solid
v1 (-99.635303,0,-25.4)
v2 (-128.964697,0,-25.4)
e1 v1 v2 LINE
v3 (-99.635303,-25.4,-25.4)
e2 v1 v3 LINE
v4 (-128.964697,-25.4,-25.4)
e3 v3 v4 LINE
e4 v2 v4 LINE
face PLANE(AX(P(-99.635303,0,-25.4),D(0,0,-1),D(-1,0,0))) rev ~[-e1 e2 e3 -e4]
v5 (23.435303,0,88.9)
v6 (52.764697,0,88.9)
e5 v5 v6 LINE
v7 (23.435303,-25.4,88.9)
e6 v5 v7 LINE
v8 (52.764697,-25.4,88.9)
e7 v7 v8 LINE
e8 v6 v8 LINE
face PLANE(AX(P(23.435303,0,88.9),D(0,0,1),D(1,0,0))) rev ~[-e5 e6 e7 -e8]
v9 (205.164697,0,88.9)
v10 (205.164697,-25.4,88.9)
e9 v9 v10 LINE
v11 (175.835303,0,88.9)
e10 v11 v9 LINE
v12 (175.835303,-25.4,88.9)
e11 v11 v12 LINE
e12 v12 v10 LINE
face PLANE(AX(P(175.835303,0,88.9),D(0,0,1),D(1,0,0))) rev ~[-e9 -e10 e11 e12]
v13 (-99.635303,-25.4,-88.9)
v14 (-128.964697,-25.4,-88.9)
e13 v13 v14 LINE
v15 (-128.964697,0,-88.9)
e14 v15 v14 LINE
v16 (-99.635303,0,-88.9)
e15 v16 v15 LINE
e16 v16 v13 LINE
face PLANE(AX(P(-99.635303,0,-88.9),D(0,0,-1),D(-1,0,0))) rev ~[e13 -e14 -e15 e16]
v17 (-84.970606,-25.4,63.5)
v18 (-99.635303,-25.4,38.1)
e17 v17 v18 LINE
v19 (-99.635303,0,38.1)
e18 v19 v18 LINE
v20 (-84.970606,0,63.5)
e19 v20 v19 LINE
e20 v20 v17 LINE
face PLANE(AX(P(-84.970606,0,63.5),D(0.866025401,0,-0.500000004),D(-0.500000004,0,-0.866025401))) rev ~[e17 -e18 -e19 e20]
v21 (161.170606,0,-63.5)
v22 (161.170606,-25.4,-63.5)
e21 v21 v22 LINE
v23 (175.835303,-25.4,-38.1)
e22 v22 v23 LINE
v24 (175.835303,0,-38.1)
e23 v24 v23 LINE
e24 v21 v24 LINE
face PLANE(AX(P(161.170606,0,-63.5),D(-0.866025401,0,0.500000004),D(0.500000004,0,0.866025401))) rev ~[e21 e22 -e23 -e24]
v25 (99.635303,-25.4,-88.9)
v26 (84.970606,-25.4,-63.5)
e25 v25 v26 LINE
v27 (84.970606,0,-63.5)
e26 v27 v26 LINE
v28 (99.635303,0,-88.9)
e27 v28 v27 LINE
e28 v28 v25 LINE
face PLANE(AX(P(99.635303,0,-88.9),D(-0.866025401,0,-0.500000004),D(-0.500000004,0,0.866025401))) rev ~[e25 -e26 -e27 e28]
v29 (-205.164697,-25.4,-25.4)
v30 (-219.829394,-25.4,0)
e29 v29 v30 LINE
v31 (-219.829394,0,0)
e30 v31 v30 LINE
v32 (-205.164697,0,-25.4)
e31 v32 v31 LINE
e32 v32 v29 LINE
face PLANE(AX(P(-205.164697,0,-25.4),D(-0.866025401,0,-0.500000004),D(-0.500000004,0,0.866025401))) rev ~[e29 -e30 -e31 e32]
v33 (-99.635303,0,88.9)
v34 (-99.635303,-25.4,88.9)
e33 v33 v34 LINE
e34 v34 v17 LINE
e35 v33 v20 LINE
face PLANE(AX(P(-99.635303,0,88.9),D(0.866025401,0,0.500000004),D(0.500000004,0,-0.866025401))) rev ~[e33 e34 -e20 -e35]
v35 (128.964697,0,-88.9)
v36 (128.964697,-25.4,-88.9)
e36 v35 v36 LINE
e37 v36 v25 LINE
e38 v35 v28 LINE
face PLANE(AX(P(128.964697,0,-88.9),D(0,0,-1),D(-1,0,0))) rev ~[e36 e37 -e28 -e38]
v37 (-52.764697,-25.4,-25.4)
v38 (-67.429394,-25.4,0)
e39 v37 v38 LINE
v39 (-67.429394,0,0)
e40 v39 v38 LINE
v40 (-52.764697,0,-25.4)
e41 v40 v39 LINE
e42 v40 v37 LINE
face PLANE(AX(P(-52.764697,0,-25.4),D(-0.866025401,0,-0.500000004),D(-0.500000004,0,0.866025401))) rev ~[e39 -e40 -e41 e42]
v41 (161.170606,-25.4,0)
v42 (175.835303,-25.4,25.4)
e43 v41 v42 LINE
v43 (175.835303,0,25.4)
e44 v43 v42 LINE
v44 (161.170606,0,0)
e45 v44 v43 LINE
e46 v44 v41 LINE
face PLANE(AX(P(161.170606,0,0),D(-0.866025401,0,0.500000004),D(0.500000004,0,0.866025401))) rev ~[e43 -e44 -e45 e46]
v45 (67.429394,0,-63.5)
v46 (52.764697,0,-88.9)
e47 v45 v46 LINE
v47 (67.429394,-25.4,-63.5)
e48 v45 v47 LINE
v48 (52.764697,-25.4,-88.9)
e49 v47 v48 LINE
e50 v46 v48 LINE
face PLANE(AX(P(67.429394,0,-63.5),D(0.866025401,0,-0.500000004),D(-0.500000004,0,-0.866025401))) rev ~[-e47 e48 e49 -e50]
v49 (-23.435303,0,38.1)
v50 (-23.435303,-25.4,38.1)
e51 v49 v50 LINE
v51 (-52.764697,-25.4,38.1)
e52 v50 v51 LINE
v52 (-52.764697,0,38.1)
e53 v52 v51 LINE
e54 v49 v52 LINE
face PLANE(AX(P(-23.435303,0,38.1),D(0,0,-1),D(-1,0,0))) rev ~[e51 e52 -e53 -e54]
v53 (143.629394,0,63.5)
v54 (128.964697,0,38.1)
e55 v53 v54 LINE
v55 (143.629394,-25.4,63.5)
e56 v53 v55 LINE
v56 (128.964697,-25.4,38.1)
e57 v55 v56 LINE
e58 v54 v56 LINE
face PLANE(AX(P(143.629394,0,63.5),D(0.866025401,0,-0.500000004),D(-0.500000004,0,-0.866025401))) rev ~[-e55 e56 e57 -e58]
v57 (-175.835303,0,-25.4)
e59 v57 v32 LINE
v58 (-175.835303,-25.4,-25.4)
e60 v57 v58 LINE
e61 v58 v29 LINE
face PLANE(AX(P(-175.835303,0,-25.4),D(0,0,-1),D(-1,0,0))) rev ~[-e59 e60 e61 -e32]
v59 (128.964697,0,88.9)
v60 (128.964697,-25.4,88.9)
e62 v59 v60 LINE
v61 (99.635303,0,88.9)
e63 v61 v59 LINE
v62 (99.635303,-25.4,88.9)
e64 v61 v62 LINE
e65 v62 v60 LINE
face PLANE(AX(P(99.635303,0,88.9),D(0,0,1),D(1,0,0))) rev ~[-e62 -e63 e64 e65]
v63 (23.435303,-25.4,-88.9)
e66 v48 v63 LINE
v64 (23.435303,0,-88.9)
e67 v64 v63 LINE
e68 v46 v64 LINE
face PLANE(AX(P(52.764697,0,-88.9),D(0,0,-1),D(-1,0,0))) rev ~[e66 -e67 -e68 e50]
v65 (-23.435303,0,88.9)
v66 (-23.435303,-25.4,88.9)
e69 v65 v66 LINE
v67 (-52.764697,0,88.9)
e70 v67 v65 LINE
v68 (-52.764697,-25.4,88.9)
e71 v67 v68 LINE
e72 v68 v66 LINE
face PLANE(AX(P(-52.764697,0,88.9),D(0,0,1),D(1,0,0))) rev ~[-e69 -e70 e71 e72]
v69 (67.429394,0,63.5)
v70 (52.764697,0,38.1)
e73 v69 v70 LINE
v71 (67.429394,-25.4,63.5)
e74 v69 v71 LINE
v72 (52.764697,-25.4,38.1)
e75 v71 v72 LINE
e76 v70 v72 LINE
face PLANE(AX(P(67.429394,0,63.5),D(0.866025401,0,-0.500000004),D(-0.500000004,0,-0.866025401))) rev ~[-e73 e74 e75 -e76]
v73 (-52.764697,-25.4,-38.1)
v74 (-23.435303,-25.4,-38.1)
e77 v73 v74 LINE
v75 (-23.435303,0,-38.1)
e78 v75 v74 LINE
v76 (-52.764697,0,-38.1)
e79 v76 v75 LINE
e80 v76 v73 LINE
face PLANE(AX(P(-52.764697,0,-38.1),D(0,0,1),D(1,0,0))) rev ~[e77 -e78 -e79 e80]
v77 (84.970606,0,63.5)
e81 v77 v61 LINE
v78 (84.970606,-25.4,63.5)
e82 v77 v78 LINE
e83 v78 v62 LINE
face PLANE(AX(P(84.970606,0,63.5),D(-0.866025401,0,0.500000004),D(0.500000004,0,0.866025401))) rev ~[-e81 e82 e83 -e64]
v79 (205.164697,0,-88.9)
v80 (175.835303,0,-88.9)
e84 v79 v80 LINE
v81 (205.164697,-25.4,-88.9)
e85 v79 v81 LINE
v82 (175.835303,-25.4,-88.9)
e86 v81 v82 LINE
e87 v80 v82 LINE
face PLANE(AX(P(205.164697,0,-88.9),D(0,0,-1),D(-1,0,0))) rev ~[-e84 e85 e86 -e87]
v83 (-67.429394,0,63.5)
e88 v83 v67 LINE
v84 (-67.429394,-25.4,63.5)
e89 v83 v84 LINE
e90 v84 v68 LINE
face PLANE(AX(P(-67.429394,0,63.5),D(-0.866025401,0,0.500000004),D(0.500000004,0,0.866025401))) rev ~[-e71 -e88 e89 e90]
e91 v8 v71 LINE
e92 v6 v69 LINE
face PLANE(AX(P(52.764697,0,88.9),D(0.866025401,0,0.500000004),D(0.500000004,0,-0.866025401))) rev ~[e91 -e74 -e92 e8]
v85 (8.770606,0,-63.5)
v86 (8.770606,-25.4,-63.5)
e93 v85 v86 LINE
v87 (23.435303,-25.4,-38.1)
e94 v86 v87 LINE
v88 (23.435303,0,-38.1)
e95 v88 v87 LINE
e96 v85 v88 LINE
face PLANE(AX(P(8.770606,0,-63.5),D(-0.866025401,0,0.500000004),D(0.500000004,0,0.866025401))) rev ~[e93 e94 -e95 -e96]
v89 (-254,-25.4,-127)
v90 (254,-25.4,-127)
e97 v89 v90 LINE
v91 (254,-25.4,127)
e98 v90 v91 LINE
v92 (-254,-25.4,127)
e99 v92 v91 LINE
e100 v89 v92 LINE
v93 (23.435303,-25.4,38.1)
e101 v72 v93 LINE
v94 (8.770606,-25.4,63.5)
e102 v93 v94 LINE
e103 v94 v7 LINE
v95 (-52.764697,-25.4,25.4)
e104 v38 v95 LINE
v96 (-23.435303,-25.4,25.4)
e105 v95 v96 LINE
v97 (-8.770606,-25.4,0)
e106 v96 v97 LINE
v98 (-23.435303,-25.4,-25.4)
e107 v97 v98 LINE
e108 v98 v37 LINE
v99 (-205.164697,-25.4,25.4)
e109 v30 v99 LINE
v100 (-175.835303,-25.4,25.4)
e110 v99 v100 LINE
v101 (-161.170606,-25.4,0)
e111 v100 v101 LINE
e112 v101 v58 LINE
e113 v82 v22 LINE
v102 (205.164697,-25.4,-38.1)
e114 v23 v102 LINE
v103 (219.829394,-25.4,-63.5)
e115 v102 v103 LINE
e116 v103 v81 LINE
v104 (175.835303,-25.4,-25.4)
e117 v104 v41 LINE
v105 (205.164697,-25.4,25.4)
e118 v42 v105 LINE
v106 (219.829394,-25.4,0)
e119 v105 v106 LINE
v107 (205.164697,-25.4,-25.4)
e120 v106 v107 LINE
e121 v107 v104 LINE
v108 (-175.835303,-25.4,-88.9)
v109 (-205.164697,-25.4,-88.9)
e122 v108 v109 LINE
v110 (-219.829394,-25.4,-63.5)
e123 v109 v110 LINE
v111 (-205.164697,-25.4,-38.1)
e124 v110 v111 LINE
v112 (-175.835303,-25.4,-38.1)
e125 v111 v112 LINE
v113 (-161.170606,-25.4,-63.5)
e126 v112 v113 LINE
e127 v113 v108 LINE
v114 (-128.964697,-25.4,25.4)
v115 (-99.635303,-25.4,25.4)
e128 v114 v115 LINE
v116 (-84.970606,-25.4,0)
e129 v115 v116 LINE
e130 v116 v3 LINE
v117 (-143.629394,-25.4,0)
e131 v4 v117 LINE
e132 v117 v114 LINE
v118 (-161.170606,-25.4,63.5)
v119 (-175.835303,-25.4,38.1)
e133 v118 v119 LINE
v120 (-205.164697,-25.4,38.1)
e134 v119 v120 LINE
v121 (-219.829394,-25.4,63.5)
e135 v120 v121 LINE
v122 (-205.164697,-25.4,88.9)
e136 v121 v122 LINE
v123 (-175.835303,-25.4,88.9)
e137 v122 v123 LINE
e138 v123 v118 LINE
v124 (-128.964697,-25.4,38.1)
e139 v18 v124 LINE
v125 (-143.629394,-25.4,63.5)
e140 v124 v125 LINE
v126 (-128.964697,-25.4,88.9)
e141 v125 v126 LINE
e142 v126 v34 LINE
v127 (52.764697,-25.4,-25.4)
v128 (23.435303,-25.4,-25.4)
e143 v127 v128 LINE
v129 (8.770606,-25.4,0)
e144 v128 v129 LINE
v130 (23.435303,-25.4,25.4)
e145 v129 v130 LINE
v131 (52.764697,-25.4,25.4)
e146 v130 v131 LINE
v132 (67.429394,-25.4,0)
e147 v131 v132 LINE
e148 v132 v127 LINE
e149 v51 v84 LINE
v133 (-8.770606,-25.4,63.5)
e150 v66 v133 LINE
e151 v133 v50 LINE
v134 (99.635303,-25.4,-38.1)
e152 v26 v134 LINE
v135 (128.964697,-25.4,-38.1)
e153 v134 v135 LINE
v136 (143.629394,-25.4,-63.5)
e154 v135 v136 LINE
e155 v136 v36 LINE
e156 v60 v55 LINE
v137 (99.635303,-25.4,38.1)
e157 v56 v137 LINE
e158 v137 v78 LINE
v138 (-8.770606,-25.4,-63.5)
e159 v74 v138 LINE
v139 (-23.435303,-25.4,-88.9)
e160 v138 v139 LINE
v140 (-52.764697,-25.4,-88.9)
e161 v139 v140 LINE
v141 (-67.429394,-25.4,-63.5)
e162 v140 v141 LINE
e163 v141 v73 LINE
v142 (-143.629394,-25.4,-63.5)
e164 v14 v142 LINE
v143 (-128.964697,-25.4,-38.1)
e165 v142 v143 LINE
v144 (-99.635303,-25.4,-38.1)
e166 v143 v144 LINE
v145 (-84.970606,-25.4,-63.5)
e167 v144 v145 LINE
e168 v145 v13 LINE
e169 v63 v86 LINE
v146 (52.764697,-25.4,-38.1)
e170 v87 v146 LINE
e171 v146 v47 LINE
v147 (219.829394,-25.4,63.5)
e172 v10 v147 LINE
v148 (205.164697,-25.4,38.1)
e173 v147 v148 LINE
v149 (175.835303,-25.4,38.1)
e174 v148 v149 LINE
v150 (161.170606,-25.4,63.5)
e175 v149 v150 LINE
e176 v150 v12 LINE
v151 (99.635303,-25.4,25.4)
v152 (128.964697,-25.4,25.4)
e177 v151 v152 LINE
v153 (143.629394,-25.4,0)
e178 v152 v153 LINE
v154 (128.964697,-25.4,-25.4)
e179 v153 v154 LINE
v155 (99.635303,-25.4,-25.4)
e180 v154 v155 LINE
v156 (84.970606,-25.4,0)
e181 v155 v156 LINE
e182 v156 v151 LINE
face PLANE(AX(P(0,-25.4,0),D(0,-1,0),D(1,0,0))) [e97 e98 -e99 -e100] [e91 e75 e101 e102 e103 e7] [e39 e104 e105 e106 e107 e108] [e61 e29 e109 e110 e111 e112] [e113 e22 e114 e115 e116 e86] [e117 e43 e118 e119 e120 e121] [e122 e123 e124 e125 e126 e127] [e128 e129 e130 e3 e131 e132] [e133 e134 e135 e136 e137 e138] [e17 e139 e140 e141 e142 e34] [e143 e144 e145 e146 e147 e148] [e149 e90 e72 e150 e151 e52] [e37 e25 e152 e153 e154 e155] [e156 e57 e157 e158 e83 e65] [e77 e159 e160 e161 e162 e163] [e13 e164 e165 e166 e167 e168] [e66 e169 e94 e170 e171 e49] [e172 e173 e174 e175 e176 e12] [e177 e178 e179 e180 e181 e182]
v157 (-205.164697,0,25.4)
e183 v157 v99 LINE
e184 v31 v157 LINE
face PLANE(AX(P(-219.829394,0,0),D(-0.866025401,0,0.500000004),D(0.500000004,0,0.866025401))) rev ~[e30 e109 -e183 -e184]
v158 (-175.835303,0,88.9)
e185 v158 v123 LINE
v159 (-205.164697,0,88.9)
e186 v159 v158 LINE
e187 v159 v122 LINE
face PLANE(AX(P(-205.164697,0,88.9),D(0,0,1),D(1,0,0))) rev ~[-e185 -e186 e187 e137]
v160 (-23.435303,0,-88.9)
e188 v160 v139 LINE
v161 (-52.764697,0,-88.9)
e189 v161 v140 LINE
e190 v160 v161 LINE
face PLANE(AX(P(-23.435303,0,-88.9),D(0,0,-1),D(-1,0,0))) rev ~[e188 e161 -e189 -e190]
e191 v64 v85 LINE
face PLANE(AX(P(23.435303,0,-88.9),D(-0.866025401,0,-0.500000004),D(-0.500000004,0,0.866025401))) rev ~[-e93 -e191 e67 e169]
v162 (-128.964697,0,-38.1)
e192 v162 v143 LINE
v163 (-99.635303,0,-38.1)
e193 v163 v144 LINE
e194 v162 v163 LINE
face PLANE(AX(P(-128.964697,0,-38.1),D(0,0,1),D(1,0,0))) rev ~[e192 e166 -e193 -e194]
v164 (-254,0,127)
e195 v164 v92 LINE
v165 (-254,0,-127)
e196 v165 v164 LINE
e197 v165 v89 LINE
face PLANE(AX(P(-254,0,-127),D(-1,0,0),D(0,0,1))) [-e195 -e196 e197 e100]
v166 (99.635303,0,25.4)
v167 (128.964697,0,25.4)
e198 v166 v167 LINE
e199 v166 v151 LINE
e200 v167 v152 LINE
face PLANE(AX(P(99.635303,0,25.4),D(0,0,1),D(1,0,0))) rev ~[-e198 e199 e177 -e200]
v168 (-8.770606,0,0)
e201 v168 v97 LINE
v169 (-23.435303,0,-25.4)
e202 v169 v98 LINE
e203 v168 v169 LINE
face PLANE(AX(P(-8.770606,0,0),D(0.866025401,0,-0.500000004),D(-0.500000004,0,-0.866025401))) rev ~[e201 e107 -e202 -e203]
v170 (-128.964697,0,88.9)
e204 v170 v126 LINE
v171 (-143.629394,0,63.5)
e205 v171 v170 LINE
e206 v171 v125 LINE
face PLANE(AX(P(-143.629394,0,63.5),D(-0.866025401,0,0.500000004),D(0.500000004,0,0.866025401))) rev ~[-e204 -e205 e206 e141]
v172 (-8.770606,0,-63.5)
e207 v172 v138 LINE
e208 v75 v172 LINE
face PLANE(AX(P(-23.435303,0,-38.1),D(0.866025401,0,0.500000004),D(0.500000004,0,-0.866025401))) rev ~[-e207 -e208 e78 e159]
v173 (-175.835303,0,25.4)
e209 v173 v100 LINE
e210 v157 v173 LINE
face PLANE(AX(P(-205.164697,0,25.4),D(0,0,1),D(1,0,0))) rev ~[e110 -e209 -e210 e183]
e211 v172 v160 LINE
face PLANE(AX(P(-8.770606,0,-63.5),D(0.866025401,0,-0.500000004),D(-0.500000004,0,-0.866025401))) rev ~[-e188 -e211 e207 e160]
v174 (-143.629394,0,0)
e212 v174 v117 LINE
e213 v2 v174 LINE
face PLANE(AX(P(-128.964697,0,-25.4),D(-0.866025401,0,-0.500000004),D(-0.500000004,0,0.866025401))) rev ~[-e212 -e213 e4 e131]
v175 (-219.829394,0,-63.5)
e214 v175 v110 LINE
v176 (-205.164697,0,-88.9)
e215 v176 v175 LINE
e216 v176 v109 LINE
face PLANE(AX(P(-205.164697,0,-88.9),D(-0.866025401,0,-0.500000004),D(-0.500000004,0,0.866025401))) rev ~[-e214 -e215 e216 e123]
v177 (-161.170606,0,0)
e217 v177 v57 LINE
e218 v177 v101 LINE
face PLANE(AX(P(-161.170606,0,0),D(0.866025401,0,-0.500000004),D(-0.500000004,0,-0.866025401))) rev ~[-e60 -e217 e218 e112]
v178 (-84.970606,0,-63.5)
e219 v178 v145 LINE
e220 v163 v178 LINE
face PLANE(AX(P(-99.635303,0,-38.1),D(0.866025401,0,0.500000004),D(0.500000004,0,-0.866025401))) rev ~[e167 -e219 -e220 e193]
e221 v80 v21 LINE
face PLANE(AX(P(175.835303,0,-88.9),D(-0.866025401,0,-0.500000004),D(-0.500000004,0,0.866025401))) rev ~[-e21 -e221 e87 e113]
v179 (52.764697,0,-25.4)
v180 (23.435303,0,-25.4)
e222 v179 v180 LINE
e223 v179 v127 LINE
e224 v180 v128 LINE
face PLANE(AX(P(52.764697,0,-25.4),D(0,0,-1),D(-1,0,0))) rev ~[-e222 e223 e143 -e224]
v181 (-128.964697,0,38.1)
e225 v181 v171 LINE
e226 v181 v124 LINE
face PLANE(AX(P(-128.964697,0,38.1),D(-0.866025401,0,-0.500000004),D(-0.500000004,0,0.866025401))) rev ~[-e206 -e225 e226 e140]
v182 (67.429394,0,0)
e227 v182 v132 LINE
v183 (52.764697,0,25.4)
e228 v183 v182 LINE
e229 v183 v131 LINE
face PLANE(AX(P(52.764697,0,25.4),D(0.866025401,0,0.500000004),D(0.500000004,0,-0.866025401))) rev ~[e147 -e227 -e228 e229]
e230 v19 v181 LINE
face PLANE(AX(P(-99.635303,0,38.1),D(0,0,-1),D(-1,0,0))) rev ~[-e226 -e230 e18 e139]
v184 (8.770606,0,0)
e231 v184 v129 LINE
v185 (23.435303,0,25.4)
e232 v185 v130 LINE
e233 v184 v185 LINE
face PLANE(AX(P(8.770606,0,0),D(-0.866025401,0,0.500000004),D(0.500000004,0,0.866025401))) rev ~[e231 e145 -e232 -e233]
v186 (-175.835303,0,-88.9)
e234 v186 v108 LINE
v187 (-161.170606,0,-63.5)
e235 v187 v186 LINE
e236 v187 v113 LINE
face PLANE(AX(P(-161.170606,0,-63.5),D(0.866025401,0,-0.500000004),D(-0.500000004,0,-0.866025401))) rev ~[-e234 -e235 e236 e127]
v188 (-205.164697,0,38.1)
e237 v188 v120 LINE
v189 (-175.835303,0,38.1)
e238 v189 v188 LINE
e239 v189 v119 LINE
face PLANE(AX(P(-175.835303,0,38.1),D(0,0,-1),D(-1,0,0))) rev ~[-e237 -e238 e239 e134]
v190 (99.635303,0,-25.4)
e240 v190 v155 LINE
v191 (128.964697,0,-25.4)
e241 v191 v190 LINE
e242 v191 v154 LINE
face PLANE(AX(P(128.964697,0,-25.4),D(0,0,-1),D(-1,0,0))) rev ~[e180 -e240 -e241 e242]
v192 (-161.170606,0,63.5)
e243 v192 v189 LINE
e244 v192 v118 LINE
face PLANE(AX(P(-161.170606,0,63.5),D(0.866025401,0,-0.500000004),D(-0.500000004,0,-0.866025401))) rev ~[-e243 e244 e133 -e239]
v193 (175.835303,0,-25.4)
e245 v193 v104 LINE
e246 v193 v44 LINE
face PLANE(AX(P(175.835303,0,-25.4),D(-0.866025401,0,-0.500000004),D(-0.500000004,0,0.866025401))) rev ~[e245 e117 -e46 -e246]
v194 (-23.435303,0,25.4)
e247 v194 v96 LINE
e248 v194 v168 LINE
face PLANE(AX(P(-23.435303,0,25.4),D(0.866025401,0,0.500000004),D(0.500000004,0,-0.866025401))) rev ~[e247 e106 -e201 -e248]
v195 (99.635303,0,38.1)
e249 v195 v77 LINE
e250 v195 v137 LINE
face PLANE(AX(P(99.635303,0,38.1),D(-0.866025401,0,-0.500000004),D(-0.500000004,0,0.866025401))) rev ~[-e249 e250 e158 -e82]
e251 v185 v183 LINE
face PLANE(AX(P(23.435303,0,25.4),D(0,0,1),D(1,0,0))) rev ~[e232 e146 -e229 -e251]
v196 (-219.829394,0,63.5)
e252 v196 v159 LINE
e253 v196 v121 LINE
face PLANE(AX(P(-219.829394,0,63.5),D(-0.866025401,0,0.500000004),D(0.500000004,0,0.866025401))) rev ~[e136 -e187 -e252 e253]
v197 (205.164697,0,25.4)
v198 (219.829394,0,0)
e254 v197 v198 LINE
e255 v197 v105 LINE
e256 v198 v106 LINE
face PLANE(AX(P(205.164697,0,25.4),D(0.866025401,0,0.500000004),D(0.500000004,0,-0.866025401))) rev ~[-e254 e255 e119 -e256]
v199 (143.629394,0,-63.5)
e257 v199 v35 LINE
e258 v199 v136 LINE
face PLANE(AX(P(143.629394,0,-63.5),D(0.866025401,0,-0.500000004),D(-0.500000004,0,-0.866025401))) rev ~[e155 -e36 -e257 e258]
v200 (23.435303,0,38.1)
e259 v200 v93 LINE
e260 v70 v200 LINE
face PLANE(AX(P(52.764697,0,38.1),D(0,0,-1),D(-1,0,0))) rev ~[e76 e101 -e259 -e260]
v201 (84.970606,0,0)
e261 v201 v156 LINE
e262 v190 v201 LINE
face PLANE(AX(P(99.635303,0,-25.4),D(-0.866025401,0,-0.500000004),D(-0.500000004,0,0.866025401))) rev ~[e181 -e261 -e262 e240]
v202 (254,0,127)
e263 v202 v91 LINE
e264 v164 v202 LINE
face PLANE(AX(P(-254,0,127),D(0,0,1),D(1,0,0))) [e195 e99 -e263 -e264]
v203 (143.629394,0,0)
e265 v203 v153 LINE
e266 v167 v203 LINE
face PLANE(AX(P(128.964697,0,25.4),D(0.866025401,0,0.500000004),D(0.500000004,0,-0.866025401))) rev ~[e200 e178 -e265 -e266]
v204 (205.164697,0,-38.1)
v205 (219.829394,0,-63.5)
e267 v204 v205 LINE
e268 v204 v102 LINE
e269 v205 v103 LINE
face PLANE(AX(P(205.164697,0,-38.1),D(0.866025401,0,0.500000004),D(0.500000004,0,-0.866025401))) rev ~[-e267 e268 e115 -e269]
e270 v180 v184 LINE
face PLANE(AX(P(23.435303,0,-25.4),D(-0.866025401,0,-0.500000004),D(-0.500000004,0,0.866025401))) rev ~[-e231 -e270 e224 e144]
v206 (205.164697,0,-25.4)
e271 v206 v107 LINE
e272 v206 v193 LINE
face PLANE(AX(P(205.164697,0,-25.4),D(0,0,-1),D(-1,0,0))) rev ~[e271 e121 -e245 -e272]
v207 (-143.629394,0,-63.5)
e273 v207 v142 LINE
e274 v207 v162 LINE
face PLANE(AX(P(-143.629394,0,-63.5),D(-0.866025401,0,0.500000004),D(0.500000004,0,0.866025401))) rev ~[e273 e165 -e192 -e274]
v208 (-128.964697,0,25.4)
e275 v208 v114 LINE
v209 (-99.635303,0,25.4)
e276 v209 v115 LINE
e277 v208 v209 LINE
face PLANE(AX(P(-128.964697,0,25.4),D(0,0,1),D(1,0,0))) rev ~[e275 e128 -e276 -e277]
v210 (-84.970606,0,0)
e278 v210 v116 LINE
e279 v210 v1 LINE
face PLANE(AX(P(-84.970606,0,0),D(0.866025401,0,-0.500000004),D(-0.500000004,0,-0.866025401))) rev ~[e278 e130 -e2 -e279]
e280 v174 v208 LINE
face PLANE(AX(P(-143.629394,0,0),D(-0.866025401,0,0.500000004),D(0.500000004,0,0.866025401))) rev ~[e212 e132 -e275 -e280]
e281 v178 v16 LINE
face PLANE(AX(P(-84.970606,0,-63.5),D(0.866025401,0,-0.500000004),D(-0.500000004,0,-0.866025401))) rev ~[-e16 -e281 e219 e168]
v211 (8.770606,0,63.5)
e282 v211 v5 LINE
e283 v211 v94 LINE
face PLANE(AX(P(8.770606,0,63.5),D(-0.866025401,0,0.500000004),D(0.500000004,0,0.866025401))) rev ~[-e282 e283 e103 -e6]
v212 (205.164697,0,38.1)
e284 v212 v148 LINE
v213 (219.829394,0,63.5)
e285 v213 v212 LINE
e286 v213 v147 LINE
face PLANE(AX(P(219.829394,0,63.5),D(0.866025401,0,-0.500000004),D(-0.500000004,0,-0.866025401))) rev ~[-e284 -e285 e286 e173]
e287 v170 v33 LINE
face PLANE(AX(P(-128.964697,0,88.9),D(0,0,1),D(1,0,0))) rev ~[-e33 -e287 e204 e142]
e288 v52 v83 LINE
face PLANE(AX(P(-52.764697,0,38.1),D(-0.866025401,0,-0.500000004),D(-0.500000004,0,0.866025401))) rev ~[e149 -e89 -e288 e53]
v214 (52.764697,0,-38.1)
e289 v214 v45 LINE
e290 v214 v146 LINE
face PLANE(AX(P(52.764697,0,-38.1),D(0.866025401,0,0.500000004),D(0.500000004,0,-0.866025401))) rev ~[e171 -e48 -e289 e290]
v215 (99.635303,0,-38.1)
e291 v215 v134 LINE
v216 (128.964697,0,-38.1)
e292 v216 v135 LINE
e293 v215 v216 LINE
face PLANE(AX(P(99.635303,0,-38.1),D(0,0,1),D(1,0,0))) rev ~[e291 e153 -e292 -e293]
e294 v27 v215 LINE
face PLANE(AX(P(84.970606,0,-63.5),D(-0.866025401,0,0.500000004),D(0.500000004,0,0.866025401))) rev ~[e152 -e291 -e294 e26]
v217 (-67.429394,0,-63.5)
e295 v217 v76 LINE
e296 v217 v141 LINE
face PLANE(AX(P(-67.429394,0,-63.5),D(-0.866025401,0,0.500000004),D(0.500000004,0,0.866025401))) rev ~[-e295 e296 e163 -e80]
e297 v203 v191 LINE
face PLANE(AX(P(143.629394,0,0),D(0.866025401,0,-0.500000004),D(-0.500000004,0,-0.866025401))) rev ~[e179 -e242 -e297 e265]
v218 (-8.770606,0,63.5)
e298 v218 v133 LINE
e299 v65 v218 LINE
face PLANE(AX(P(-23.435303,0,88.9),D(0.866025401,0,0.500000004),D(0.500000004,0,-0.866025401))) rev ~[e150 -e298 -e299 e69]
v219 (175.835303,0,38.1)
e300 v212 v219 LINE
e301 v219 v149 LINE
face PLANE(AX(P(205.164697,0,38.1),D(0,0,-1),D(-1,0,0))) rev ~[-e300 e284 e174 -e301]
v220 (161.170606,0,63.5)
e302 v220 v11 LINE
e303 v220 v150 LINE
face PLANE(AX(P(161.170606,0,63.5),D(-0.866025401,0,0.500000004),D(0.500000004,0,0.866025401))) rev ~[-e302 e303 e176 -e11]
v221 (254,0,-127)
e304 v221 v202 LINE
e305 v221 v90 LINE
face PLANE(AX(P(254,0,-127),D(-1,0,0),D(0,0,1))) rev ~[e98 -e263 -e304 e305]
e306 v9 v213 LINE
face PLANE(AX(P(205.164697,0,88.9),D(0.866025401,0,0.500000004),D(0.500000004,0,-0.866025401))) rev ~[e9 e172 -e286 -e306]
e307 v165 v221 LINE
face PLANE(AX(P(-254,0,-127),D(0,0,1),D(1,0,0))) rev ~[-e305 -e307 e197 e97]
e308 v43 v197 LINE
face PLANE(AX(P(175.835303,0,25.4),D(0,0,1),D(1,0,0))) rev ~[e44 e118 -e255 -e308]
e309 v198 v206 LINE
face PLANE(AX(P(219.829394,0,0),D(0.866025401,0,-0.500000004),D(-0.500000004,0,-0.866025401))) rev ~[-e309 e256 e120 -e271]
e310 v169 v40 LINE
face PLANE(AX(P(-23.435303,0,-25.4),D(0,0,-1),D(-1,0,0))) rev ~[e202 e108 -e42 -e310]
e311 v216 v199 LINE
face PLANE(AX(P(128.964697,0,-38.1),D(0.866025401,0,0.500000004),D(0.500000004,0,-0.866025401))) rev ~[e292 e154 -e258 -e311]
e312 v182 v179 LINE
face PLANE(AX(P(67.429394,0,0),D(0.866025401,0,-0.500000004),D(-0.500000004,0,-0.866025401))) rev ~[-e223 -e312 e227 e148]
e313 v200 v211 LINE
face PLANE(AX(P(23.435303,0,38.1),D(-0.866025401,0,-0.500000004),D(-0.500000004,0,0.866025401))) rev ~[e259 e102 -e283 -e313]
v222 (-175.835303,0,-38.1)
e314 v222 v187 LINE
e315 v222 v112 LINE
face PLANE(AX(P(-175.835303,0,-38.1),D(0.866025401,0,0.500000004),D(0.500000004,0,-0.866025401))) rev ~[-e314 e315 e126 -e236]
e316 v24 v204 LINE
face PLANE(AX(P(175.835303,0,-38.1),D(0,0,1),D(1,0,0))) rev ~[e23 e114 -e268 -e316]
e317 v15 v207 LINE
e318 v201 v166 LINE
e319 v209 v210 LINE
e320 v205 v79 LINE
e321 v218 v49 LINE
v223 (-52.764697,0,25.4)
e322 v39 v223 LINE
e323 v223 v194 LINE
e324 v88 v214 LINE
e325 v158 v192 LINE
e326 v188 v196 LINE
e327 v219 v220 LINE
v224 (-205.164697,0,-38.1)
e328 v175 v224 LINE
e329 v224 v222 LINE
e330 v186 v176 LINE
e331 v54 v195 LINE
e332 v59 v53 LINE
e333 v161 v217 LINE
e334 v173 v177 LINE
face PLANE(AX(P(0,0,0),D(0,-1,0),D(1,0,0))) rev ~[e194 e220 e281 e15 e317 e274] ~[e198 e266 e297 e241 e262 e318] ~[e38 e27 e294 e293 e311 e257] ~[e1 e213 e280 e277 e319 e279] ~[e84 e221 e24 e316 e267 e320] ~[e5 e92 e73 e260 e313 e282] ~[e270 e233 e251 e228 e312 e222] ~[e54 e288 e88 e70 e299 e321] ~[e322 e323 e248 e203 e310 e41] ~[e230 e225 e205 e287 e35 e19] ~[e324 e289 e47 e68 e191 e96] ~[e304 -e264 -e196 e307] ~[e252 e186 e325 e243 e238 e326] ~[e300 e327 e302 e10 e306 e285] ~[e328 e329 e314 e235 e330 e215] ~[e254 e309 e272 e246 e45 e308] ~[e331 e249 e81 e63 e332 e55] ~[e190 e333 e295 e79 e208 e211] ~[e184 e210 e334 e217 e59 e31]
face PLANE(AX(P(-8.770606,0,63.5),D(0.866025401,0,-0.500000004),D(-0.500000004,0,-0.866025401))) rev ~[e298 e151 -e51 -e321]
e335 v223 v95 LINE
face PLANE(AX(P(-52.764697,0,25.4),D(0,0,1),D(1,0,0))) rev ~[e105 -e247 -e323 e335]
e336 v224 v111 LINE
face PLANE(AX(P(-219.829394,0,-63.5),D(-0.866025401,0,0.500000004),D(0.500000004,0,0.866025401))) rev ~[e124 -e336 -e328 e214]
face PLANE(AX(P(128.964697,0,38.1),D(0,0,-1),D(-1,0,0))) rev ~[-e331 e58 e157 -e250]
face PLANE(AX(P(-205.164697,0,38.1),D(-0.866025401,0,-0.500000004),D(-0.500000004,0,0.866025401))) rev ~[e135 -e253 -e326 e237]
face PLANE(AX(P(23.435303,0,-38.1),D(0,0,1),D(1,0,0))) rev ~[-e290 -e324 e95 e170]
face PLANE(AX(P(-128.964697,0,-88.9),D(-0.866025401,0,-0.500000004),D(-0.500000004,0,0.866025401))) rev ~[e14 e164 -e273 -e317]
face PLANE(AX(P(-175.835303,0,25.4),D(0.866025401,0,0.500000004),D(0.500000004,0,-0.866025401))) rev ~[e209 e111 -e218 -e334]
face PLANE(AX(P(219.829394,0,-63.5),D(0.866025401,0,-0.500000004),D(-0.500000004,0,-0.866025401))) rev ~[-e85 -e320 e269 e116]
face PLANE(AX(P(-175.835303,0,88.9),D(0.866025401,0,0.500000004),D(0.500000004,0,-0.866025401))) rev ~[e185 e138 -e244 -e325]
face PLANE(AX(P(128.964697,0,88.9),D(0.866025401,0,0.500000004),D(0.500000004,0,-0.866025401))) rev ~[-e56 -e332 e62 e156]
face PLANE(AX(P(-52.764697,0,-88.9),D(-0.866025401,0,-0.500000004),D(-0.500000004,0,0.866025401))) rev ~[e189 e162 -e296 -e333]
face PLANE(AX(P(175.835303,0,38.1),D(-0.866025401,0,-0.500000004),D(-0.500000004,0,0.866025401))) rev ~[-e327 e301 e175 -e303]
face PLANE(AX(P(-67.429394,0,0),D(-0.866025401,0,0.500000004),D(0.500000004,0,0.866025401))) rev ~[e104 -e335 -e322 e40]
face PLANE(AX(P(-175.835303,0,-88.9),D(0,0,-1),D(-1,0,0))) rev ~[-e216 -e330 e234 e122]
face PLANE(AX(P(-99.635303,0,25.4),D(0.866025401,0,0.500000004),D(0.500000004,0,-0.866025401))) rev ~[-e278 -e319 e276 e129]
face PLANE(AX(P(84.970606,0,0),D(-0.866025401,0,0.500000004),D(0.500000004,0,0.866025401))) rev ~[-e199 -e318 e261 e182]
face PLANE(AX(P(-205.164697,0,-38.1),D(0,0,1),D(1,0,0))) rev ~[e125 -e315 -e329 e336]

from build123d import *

# Parameters (mm, degrees)
F0_W     = 508
F0_H     = 254
F1_DEPTH = 25.4


with BuildPart() as f1:
    # F0 (on Front) → F1 (new body)
    with BuildSketch(Plane.XZ):
        Rectangle(F0_W, F0_H)
        Polygon((-161.170606, -63.5), (-175.835303, -88.9), (-205.164697, -88.9), (-219.829394, -63.5), (-205.164697, -38.1), (-175.835303, -38.1), align=None, mode=Mode.SUBTRACT)
        Polygon((-99.635303, -88.9), (-128.964697, -88.9), (-143.629394, -63.5), (-128.964697, -38.1), (-99.635303, -38.1), (-84.970606, -63.5), align=None, mode=Mode.SUBTRACT)
        Polygon((-67.429394, -63.5), (-52.764697, -38.1), (-23.435303, -38.1), (-8.770606, -63.5), (-23.435303, -88.9), (-52.764697, -88.9), align=None, mode=Mode.SUBTRACT)
        Polygon((52.764697, -88.9), (23.435303, -88.9), (8.770606, -63.5), (23.435303, -38.1), (52.764697, -38.1), (67.429394, -63.5), align=None, mode=Mode.SUBTRACT)
        Polygon((128.964697, -38.1), (143.629394, -63.5), (128.964697, -88.9), (99.635303, -88.9), (84.970606, -63.5), (99.635303, -38.1), align=None, mode=Mode.SUBTRACT)
        Polygon((205.164697, -88.9), (175.835303, -88.9), (161.170606, -63.5), (175.835303, -38.1), (205.164697, -38.1), (219.829394, -63.5), align=None, mode=Mode.SUBTRACT)
        Polygon((-161.170606, 0), (-175.835303, -25.4), (-205.164697, -25.4), (-219.829394, 0), (-205.164697, 25.4), (-175.835303, 25.4), align=None, mode=Mode.SUBTRACT)
        Polygon((-99.635303, -25.4), (-128.964697, -25.4), (-143.629394, 0), (-128.964697, 25.4), (-99.635303, 25.4), (-84.970606, 0), align=None, mode=Mode.SUBTRACT)
        Polygon((-67.429394, 0), (-52.764697, 25.4), (-23.435303, 25.4), (-8.770606, 0), (-23.435303, -25.4), (-52.764697, -25.4), align=None, mode=Mode.SUBTRACT)
        Polygon((-175.835303, 88.9), (-161.170606, 63.5), (-175.835303, 38.1), (-205.164697, 38.1), (-219.829394, 63.5), (-205.164697, 88.9), align=None, mode=Mode.SUBTRACT)
        Polygon((-99.635303, 88.9), (-84.970606, 63.5), (-99.635303, 38.1), (-128.964697, 38.1), (-143.629394, 63.5), (-128.964697, 88.9), align=None, mode=Mode.SUBTRACT)
        Polygon((-23.435303, 88.9), (-8.770606, 63.5), (-23.435303, 38.1), (-52.764697, 38.1), (-67.429394, 63.5), (-52.764697, 88.9), align=None, mode=Mode.SUBTRACT)
        Polygon((52.764697, -25.4), (23.435303, -25.4), (8.770606, 0), (23.435303, 25.4), (52.764697, 25.4), (67.429394, 0), align=None, mode=Mode.SUBTRACT)
        Polygon((128.964697, 25.4), (143.629394, 0), (128.964697, -25.4), (99.635303, -25.4), (84.970606, 0), (99.635303, 25.4), align=None, mode=Mode.SUBTRACT)
        Polygon((205.164697, -25.4), (175.835303, -25.4), (161.170606, 0), (175.835303, 25.4), (205.164697, 25.4), (219.829394, 0), align=None, mode=Mode.SUBTRACT)
        Polygon((52.764697, 88.9), (67.429394, 63.5), (52.764697, 38.1), (23.435303, 38.1), (8.770606, 63.5), (23.435303, 88.9), align=None, mode=Mode.SUBTRACT)
        Polygon((128.964697, 88.9), (143.629394, 63.5), (128.964697, 38.1), (99.635303, 38.1), (84.970606, 63.5), (99.635303, 88.9), align=None, mode=Mode.SUBTRACT)
        Polygon((205.164697, 88.9), (219.829394, 63.5), (205.164697, 38.1), (175.835303, 38.1), (161.170606, 63.5), (175.835303, 88.9), align=None, mode=Mode.SUBTRACT)
    extrude(amount=F1_DEPTH)


solid = f1.part
